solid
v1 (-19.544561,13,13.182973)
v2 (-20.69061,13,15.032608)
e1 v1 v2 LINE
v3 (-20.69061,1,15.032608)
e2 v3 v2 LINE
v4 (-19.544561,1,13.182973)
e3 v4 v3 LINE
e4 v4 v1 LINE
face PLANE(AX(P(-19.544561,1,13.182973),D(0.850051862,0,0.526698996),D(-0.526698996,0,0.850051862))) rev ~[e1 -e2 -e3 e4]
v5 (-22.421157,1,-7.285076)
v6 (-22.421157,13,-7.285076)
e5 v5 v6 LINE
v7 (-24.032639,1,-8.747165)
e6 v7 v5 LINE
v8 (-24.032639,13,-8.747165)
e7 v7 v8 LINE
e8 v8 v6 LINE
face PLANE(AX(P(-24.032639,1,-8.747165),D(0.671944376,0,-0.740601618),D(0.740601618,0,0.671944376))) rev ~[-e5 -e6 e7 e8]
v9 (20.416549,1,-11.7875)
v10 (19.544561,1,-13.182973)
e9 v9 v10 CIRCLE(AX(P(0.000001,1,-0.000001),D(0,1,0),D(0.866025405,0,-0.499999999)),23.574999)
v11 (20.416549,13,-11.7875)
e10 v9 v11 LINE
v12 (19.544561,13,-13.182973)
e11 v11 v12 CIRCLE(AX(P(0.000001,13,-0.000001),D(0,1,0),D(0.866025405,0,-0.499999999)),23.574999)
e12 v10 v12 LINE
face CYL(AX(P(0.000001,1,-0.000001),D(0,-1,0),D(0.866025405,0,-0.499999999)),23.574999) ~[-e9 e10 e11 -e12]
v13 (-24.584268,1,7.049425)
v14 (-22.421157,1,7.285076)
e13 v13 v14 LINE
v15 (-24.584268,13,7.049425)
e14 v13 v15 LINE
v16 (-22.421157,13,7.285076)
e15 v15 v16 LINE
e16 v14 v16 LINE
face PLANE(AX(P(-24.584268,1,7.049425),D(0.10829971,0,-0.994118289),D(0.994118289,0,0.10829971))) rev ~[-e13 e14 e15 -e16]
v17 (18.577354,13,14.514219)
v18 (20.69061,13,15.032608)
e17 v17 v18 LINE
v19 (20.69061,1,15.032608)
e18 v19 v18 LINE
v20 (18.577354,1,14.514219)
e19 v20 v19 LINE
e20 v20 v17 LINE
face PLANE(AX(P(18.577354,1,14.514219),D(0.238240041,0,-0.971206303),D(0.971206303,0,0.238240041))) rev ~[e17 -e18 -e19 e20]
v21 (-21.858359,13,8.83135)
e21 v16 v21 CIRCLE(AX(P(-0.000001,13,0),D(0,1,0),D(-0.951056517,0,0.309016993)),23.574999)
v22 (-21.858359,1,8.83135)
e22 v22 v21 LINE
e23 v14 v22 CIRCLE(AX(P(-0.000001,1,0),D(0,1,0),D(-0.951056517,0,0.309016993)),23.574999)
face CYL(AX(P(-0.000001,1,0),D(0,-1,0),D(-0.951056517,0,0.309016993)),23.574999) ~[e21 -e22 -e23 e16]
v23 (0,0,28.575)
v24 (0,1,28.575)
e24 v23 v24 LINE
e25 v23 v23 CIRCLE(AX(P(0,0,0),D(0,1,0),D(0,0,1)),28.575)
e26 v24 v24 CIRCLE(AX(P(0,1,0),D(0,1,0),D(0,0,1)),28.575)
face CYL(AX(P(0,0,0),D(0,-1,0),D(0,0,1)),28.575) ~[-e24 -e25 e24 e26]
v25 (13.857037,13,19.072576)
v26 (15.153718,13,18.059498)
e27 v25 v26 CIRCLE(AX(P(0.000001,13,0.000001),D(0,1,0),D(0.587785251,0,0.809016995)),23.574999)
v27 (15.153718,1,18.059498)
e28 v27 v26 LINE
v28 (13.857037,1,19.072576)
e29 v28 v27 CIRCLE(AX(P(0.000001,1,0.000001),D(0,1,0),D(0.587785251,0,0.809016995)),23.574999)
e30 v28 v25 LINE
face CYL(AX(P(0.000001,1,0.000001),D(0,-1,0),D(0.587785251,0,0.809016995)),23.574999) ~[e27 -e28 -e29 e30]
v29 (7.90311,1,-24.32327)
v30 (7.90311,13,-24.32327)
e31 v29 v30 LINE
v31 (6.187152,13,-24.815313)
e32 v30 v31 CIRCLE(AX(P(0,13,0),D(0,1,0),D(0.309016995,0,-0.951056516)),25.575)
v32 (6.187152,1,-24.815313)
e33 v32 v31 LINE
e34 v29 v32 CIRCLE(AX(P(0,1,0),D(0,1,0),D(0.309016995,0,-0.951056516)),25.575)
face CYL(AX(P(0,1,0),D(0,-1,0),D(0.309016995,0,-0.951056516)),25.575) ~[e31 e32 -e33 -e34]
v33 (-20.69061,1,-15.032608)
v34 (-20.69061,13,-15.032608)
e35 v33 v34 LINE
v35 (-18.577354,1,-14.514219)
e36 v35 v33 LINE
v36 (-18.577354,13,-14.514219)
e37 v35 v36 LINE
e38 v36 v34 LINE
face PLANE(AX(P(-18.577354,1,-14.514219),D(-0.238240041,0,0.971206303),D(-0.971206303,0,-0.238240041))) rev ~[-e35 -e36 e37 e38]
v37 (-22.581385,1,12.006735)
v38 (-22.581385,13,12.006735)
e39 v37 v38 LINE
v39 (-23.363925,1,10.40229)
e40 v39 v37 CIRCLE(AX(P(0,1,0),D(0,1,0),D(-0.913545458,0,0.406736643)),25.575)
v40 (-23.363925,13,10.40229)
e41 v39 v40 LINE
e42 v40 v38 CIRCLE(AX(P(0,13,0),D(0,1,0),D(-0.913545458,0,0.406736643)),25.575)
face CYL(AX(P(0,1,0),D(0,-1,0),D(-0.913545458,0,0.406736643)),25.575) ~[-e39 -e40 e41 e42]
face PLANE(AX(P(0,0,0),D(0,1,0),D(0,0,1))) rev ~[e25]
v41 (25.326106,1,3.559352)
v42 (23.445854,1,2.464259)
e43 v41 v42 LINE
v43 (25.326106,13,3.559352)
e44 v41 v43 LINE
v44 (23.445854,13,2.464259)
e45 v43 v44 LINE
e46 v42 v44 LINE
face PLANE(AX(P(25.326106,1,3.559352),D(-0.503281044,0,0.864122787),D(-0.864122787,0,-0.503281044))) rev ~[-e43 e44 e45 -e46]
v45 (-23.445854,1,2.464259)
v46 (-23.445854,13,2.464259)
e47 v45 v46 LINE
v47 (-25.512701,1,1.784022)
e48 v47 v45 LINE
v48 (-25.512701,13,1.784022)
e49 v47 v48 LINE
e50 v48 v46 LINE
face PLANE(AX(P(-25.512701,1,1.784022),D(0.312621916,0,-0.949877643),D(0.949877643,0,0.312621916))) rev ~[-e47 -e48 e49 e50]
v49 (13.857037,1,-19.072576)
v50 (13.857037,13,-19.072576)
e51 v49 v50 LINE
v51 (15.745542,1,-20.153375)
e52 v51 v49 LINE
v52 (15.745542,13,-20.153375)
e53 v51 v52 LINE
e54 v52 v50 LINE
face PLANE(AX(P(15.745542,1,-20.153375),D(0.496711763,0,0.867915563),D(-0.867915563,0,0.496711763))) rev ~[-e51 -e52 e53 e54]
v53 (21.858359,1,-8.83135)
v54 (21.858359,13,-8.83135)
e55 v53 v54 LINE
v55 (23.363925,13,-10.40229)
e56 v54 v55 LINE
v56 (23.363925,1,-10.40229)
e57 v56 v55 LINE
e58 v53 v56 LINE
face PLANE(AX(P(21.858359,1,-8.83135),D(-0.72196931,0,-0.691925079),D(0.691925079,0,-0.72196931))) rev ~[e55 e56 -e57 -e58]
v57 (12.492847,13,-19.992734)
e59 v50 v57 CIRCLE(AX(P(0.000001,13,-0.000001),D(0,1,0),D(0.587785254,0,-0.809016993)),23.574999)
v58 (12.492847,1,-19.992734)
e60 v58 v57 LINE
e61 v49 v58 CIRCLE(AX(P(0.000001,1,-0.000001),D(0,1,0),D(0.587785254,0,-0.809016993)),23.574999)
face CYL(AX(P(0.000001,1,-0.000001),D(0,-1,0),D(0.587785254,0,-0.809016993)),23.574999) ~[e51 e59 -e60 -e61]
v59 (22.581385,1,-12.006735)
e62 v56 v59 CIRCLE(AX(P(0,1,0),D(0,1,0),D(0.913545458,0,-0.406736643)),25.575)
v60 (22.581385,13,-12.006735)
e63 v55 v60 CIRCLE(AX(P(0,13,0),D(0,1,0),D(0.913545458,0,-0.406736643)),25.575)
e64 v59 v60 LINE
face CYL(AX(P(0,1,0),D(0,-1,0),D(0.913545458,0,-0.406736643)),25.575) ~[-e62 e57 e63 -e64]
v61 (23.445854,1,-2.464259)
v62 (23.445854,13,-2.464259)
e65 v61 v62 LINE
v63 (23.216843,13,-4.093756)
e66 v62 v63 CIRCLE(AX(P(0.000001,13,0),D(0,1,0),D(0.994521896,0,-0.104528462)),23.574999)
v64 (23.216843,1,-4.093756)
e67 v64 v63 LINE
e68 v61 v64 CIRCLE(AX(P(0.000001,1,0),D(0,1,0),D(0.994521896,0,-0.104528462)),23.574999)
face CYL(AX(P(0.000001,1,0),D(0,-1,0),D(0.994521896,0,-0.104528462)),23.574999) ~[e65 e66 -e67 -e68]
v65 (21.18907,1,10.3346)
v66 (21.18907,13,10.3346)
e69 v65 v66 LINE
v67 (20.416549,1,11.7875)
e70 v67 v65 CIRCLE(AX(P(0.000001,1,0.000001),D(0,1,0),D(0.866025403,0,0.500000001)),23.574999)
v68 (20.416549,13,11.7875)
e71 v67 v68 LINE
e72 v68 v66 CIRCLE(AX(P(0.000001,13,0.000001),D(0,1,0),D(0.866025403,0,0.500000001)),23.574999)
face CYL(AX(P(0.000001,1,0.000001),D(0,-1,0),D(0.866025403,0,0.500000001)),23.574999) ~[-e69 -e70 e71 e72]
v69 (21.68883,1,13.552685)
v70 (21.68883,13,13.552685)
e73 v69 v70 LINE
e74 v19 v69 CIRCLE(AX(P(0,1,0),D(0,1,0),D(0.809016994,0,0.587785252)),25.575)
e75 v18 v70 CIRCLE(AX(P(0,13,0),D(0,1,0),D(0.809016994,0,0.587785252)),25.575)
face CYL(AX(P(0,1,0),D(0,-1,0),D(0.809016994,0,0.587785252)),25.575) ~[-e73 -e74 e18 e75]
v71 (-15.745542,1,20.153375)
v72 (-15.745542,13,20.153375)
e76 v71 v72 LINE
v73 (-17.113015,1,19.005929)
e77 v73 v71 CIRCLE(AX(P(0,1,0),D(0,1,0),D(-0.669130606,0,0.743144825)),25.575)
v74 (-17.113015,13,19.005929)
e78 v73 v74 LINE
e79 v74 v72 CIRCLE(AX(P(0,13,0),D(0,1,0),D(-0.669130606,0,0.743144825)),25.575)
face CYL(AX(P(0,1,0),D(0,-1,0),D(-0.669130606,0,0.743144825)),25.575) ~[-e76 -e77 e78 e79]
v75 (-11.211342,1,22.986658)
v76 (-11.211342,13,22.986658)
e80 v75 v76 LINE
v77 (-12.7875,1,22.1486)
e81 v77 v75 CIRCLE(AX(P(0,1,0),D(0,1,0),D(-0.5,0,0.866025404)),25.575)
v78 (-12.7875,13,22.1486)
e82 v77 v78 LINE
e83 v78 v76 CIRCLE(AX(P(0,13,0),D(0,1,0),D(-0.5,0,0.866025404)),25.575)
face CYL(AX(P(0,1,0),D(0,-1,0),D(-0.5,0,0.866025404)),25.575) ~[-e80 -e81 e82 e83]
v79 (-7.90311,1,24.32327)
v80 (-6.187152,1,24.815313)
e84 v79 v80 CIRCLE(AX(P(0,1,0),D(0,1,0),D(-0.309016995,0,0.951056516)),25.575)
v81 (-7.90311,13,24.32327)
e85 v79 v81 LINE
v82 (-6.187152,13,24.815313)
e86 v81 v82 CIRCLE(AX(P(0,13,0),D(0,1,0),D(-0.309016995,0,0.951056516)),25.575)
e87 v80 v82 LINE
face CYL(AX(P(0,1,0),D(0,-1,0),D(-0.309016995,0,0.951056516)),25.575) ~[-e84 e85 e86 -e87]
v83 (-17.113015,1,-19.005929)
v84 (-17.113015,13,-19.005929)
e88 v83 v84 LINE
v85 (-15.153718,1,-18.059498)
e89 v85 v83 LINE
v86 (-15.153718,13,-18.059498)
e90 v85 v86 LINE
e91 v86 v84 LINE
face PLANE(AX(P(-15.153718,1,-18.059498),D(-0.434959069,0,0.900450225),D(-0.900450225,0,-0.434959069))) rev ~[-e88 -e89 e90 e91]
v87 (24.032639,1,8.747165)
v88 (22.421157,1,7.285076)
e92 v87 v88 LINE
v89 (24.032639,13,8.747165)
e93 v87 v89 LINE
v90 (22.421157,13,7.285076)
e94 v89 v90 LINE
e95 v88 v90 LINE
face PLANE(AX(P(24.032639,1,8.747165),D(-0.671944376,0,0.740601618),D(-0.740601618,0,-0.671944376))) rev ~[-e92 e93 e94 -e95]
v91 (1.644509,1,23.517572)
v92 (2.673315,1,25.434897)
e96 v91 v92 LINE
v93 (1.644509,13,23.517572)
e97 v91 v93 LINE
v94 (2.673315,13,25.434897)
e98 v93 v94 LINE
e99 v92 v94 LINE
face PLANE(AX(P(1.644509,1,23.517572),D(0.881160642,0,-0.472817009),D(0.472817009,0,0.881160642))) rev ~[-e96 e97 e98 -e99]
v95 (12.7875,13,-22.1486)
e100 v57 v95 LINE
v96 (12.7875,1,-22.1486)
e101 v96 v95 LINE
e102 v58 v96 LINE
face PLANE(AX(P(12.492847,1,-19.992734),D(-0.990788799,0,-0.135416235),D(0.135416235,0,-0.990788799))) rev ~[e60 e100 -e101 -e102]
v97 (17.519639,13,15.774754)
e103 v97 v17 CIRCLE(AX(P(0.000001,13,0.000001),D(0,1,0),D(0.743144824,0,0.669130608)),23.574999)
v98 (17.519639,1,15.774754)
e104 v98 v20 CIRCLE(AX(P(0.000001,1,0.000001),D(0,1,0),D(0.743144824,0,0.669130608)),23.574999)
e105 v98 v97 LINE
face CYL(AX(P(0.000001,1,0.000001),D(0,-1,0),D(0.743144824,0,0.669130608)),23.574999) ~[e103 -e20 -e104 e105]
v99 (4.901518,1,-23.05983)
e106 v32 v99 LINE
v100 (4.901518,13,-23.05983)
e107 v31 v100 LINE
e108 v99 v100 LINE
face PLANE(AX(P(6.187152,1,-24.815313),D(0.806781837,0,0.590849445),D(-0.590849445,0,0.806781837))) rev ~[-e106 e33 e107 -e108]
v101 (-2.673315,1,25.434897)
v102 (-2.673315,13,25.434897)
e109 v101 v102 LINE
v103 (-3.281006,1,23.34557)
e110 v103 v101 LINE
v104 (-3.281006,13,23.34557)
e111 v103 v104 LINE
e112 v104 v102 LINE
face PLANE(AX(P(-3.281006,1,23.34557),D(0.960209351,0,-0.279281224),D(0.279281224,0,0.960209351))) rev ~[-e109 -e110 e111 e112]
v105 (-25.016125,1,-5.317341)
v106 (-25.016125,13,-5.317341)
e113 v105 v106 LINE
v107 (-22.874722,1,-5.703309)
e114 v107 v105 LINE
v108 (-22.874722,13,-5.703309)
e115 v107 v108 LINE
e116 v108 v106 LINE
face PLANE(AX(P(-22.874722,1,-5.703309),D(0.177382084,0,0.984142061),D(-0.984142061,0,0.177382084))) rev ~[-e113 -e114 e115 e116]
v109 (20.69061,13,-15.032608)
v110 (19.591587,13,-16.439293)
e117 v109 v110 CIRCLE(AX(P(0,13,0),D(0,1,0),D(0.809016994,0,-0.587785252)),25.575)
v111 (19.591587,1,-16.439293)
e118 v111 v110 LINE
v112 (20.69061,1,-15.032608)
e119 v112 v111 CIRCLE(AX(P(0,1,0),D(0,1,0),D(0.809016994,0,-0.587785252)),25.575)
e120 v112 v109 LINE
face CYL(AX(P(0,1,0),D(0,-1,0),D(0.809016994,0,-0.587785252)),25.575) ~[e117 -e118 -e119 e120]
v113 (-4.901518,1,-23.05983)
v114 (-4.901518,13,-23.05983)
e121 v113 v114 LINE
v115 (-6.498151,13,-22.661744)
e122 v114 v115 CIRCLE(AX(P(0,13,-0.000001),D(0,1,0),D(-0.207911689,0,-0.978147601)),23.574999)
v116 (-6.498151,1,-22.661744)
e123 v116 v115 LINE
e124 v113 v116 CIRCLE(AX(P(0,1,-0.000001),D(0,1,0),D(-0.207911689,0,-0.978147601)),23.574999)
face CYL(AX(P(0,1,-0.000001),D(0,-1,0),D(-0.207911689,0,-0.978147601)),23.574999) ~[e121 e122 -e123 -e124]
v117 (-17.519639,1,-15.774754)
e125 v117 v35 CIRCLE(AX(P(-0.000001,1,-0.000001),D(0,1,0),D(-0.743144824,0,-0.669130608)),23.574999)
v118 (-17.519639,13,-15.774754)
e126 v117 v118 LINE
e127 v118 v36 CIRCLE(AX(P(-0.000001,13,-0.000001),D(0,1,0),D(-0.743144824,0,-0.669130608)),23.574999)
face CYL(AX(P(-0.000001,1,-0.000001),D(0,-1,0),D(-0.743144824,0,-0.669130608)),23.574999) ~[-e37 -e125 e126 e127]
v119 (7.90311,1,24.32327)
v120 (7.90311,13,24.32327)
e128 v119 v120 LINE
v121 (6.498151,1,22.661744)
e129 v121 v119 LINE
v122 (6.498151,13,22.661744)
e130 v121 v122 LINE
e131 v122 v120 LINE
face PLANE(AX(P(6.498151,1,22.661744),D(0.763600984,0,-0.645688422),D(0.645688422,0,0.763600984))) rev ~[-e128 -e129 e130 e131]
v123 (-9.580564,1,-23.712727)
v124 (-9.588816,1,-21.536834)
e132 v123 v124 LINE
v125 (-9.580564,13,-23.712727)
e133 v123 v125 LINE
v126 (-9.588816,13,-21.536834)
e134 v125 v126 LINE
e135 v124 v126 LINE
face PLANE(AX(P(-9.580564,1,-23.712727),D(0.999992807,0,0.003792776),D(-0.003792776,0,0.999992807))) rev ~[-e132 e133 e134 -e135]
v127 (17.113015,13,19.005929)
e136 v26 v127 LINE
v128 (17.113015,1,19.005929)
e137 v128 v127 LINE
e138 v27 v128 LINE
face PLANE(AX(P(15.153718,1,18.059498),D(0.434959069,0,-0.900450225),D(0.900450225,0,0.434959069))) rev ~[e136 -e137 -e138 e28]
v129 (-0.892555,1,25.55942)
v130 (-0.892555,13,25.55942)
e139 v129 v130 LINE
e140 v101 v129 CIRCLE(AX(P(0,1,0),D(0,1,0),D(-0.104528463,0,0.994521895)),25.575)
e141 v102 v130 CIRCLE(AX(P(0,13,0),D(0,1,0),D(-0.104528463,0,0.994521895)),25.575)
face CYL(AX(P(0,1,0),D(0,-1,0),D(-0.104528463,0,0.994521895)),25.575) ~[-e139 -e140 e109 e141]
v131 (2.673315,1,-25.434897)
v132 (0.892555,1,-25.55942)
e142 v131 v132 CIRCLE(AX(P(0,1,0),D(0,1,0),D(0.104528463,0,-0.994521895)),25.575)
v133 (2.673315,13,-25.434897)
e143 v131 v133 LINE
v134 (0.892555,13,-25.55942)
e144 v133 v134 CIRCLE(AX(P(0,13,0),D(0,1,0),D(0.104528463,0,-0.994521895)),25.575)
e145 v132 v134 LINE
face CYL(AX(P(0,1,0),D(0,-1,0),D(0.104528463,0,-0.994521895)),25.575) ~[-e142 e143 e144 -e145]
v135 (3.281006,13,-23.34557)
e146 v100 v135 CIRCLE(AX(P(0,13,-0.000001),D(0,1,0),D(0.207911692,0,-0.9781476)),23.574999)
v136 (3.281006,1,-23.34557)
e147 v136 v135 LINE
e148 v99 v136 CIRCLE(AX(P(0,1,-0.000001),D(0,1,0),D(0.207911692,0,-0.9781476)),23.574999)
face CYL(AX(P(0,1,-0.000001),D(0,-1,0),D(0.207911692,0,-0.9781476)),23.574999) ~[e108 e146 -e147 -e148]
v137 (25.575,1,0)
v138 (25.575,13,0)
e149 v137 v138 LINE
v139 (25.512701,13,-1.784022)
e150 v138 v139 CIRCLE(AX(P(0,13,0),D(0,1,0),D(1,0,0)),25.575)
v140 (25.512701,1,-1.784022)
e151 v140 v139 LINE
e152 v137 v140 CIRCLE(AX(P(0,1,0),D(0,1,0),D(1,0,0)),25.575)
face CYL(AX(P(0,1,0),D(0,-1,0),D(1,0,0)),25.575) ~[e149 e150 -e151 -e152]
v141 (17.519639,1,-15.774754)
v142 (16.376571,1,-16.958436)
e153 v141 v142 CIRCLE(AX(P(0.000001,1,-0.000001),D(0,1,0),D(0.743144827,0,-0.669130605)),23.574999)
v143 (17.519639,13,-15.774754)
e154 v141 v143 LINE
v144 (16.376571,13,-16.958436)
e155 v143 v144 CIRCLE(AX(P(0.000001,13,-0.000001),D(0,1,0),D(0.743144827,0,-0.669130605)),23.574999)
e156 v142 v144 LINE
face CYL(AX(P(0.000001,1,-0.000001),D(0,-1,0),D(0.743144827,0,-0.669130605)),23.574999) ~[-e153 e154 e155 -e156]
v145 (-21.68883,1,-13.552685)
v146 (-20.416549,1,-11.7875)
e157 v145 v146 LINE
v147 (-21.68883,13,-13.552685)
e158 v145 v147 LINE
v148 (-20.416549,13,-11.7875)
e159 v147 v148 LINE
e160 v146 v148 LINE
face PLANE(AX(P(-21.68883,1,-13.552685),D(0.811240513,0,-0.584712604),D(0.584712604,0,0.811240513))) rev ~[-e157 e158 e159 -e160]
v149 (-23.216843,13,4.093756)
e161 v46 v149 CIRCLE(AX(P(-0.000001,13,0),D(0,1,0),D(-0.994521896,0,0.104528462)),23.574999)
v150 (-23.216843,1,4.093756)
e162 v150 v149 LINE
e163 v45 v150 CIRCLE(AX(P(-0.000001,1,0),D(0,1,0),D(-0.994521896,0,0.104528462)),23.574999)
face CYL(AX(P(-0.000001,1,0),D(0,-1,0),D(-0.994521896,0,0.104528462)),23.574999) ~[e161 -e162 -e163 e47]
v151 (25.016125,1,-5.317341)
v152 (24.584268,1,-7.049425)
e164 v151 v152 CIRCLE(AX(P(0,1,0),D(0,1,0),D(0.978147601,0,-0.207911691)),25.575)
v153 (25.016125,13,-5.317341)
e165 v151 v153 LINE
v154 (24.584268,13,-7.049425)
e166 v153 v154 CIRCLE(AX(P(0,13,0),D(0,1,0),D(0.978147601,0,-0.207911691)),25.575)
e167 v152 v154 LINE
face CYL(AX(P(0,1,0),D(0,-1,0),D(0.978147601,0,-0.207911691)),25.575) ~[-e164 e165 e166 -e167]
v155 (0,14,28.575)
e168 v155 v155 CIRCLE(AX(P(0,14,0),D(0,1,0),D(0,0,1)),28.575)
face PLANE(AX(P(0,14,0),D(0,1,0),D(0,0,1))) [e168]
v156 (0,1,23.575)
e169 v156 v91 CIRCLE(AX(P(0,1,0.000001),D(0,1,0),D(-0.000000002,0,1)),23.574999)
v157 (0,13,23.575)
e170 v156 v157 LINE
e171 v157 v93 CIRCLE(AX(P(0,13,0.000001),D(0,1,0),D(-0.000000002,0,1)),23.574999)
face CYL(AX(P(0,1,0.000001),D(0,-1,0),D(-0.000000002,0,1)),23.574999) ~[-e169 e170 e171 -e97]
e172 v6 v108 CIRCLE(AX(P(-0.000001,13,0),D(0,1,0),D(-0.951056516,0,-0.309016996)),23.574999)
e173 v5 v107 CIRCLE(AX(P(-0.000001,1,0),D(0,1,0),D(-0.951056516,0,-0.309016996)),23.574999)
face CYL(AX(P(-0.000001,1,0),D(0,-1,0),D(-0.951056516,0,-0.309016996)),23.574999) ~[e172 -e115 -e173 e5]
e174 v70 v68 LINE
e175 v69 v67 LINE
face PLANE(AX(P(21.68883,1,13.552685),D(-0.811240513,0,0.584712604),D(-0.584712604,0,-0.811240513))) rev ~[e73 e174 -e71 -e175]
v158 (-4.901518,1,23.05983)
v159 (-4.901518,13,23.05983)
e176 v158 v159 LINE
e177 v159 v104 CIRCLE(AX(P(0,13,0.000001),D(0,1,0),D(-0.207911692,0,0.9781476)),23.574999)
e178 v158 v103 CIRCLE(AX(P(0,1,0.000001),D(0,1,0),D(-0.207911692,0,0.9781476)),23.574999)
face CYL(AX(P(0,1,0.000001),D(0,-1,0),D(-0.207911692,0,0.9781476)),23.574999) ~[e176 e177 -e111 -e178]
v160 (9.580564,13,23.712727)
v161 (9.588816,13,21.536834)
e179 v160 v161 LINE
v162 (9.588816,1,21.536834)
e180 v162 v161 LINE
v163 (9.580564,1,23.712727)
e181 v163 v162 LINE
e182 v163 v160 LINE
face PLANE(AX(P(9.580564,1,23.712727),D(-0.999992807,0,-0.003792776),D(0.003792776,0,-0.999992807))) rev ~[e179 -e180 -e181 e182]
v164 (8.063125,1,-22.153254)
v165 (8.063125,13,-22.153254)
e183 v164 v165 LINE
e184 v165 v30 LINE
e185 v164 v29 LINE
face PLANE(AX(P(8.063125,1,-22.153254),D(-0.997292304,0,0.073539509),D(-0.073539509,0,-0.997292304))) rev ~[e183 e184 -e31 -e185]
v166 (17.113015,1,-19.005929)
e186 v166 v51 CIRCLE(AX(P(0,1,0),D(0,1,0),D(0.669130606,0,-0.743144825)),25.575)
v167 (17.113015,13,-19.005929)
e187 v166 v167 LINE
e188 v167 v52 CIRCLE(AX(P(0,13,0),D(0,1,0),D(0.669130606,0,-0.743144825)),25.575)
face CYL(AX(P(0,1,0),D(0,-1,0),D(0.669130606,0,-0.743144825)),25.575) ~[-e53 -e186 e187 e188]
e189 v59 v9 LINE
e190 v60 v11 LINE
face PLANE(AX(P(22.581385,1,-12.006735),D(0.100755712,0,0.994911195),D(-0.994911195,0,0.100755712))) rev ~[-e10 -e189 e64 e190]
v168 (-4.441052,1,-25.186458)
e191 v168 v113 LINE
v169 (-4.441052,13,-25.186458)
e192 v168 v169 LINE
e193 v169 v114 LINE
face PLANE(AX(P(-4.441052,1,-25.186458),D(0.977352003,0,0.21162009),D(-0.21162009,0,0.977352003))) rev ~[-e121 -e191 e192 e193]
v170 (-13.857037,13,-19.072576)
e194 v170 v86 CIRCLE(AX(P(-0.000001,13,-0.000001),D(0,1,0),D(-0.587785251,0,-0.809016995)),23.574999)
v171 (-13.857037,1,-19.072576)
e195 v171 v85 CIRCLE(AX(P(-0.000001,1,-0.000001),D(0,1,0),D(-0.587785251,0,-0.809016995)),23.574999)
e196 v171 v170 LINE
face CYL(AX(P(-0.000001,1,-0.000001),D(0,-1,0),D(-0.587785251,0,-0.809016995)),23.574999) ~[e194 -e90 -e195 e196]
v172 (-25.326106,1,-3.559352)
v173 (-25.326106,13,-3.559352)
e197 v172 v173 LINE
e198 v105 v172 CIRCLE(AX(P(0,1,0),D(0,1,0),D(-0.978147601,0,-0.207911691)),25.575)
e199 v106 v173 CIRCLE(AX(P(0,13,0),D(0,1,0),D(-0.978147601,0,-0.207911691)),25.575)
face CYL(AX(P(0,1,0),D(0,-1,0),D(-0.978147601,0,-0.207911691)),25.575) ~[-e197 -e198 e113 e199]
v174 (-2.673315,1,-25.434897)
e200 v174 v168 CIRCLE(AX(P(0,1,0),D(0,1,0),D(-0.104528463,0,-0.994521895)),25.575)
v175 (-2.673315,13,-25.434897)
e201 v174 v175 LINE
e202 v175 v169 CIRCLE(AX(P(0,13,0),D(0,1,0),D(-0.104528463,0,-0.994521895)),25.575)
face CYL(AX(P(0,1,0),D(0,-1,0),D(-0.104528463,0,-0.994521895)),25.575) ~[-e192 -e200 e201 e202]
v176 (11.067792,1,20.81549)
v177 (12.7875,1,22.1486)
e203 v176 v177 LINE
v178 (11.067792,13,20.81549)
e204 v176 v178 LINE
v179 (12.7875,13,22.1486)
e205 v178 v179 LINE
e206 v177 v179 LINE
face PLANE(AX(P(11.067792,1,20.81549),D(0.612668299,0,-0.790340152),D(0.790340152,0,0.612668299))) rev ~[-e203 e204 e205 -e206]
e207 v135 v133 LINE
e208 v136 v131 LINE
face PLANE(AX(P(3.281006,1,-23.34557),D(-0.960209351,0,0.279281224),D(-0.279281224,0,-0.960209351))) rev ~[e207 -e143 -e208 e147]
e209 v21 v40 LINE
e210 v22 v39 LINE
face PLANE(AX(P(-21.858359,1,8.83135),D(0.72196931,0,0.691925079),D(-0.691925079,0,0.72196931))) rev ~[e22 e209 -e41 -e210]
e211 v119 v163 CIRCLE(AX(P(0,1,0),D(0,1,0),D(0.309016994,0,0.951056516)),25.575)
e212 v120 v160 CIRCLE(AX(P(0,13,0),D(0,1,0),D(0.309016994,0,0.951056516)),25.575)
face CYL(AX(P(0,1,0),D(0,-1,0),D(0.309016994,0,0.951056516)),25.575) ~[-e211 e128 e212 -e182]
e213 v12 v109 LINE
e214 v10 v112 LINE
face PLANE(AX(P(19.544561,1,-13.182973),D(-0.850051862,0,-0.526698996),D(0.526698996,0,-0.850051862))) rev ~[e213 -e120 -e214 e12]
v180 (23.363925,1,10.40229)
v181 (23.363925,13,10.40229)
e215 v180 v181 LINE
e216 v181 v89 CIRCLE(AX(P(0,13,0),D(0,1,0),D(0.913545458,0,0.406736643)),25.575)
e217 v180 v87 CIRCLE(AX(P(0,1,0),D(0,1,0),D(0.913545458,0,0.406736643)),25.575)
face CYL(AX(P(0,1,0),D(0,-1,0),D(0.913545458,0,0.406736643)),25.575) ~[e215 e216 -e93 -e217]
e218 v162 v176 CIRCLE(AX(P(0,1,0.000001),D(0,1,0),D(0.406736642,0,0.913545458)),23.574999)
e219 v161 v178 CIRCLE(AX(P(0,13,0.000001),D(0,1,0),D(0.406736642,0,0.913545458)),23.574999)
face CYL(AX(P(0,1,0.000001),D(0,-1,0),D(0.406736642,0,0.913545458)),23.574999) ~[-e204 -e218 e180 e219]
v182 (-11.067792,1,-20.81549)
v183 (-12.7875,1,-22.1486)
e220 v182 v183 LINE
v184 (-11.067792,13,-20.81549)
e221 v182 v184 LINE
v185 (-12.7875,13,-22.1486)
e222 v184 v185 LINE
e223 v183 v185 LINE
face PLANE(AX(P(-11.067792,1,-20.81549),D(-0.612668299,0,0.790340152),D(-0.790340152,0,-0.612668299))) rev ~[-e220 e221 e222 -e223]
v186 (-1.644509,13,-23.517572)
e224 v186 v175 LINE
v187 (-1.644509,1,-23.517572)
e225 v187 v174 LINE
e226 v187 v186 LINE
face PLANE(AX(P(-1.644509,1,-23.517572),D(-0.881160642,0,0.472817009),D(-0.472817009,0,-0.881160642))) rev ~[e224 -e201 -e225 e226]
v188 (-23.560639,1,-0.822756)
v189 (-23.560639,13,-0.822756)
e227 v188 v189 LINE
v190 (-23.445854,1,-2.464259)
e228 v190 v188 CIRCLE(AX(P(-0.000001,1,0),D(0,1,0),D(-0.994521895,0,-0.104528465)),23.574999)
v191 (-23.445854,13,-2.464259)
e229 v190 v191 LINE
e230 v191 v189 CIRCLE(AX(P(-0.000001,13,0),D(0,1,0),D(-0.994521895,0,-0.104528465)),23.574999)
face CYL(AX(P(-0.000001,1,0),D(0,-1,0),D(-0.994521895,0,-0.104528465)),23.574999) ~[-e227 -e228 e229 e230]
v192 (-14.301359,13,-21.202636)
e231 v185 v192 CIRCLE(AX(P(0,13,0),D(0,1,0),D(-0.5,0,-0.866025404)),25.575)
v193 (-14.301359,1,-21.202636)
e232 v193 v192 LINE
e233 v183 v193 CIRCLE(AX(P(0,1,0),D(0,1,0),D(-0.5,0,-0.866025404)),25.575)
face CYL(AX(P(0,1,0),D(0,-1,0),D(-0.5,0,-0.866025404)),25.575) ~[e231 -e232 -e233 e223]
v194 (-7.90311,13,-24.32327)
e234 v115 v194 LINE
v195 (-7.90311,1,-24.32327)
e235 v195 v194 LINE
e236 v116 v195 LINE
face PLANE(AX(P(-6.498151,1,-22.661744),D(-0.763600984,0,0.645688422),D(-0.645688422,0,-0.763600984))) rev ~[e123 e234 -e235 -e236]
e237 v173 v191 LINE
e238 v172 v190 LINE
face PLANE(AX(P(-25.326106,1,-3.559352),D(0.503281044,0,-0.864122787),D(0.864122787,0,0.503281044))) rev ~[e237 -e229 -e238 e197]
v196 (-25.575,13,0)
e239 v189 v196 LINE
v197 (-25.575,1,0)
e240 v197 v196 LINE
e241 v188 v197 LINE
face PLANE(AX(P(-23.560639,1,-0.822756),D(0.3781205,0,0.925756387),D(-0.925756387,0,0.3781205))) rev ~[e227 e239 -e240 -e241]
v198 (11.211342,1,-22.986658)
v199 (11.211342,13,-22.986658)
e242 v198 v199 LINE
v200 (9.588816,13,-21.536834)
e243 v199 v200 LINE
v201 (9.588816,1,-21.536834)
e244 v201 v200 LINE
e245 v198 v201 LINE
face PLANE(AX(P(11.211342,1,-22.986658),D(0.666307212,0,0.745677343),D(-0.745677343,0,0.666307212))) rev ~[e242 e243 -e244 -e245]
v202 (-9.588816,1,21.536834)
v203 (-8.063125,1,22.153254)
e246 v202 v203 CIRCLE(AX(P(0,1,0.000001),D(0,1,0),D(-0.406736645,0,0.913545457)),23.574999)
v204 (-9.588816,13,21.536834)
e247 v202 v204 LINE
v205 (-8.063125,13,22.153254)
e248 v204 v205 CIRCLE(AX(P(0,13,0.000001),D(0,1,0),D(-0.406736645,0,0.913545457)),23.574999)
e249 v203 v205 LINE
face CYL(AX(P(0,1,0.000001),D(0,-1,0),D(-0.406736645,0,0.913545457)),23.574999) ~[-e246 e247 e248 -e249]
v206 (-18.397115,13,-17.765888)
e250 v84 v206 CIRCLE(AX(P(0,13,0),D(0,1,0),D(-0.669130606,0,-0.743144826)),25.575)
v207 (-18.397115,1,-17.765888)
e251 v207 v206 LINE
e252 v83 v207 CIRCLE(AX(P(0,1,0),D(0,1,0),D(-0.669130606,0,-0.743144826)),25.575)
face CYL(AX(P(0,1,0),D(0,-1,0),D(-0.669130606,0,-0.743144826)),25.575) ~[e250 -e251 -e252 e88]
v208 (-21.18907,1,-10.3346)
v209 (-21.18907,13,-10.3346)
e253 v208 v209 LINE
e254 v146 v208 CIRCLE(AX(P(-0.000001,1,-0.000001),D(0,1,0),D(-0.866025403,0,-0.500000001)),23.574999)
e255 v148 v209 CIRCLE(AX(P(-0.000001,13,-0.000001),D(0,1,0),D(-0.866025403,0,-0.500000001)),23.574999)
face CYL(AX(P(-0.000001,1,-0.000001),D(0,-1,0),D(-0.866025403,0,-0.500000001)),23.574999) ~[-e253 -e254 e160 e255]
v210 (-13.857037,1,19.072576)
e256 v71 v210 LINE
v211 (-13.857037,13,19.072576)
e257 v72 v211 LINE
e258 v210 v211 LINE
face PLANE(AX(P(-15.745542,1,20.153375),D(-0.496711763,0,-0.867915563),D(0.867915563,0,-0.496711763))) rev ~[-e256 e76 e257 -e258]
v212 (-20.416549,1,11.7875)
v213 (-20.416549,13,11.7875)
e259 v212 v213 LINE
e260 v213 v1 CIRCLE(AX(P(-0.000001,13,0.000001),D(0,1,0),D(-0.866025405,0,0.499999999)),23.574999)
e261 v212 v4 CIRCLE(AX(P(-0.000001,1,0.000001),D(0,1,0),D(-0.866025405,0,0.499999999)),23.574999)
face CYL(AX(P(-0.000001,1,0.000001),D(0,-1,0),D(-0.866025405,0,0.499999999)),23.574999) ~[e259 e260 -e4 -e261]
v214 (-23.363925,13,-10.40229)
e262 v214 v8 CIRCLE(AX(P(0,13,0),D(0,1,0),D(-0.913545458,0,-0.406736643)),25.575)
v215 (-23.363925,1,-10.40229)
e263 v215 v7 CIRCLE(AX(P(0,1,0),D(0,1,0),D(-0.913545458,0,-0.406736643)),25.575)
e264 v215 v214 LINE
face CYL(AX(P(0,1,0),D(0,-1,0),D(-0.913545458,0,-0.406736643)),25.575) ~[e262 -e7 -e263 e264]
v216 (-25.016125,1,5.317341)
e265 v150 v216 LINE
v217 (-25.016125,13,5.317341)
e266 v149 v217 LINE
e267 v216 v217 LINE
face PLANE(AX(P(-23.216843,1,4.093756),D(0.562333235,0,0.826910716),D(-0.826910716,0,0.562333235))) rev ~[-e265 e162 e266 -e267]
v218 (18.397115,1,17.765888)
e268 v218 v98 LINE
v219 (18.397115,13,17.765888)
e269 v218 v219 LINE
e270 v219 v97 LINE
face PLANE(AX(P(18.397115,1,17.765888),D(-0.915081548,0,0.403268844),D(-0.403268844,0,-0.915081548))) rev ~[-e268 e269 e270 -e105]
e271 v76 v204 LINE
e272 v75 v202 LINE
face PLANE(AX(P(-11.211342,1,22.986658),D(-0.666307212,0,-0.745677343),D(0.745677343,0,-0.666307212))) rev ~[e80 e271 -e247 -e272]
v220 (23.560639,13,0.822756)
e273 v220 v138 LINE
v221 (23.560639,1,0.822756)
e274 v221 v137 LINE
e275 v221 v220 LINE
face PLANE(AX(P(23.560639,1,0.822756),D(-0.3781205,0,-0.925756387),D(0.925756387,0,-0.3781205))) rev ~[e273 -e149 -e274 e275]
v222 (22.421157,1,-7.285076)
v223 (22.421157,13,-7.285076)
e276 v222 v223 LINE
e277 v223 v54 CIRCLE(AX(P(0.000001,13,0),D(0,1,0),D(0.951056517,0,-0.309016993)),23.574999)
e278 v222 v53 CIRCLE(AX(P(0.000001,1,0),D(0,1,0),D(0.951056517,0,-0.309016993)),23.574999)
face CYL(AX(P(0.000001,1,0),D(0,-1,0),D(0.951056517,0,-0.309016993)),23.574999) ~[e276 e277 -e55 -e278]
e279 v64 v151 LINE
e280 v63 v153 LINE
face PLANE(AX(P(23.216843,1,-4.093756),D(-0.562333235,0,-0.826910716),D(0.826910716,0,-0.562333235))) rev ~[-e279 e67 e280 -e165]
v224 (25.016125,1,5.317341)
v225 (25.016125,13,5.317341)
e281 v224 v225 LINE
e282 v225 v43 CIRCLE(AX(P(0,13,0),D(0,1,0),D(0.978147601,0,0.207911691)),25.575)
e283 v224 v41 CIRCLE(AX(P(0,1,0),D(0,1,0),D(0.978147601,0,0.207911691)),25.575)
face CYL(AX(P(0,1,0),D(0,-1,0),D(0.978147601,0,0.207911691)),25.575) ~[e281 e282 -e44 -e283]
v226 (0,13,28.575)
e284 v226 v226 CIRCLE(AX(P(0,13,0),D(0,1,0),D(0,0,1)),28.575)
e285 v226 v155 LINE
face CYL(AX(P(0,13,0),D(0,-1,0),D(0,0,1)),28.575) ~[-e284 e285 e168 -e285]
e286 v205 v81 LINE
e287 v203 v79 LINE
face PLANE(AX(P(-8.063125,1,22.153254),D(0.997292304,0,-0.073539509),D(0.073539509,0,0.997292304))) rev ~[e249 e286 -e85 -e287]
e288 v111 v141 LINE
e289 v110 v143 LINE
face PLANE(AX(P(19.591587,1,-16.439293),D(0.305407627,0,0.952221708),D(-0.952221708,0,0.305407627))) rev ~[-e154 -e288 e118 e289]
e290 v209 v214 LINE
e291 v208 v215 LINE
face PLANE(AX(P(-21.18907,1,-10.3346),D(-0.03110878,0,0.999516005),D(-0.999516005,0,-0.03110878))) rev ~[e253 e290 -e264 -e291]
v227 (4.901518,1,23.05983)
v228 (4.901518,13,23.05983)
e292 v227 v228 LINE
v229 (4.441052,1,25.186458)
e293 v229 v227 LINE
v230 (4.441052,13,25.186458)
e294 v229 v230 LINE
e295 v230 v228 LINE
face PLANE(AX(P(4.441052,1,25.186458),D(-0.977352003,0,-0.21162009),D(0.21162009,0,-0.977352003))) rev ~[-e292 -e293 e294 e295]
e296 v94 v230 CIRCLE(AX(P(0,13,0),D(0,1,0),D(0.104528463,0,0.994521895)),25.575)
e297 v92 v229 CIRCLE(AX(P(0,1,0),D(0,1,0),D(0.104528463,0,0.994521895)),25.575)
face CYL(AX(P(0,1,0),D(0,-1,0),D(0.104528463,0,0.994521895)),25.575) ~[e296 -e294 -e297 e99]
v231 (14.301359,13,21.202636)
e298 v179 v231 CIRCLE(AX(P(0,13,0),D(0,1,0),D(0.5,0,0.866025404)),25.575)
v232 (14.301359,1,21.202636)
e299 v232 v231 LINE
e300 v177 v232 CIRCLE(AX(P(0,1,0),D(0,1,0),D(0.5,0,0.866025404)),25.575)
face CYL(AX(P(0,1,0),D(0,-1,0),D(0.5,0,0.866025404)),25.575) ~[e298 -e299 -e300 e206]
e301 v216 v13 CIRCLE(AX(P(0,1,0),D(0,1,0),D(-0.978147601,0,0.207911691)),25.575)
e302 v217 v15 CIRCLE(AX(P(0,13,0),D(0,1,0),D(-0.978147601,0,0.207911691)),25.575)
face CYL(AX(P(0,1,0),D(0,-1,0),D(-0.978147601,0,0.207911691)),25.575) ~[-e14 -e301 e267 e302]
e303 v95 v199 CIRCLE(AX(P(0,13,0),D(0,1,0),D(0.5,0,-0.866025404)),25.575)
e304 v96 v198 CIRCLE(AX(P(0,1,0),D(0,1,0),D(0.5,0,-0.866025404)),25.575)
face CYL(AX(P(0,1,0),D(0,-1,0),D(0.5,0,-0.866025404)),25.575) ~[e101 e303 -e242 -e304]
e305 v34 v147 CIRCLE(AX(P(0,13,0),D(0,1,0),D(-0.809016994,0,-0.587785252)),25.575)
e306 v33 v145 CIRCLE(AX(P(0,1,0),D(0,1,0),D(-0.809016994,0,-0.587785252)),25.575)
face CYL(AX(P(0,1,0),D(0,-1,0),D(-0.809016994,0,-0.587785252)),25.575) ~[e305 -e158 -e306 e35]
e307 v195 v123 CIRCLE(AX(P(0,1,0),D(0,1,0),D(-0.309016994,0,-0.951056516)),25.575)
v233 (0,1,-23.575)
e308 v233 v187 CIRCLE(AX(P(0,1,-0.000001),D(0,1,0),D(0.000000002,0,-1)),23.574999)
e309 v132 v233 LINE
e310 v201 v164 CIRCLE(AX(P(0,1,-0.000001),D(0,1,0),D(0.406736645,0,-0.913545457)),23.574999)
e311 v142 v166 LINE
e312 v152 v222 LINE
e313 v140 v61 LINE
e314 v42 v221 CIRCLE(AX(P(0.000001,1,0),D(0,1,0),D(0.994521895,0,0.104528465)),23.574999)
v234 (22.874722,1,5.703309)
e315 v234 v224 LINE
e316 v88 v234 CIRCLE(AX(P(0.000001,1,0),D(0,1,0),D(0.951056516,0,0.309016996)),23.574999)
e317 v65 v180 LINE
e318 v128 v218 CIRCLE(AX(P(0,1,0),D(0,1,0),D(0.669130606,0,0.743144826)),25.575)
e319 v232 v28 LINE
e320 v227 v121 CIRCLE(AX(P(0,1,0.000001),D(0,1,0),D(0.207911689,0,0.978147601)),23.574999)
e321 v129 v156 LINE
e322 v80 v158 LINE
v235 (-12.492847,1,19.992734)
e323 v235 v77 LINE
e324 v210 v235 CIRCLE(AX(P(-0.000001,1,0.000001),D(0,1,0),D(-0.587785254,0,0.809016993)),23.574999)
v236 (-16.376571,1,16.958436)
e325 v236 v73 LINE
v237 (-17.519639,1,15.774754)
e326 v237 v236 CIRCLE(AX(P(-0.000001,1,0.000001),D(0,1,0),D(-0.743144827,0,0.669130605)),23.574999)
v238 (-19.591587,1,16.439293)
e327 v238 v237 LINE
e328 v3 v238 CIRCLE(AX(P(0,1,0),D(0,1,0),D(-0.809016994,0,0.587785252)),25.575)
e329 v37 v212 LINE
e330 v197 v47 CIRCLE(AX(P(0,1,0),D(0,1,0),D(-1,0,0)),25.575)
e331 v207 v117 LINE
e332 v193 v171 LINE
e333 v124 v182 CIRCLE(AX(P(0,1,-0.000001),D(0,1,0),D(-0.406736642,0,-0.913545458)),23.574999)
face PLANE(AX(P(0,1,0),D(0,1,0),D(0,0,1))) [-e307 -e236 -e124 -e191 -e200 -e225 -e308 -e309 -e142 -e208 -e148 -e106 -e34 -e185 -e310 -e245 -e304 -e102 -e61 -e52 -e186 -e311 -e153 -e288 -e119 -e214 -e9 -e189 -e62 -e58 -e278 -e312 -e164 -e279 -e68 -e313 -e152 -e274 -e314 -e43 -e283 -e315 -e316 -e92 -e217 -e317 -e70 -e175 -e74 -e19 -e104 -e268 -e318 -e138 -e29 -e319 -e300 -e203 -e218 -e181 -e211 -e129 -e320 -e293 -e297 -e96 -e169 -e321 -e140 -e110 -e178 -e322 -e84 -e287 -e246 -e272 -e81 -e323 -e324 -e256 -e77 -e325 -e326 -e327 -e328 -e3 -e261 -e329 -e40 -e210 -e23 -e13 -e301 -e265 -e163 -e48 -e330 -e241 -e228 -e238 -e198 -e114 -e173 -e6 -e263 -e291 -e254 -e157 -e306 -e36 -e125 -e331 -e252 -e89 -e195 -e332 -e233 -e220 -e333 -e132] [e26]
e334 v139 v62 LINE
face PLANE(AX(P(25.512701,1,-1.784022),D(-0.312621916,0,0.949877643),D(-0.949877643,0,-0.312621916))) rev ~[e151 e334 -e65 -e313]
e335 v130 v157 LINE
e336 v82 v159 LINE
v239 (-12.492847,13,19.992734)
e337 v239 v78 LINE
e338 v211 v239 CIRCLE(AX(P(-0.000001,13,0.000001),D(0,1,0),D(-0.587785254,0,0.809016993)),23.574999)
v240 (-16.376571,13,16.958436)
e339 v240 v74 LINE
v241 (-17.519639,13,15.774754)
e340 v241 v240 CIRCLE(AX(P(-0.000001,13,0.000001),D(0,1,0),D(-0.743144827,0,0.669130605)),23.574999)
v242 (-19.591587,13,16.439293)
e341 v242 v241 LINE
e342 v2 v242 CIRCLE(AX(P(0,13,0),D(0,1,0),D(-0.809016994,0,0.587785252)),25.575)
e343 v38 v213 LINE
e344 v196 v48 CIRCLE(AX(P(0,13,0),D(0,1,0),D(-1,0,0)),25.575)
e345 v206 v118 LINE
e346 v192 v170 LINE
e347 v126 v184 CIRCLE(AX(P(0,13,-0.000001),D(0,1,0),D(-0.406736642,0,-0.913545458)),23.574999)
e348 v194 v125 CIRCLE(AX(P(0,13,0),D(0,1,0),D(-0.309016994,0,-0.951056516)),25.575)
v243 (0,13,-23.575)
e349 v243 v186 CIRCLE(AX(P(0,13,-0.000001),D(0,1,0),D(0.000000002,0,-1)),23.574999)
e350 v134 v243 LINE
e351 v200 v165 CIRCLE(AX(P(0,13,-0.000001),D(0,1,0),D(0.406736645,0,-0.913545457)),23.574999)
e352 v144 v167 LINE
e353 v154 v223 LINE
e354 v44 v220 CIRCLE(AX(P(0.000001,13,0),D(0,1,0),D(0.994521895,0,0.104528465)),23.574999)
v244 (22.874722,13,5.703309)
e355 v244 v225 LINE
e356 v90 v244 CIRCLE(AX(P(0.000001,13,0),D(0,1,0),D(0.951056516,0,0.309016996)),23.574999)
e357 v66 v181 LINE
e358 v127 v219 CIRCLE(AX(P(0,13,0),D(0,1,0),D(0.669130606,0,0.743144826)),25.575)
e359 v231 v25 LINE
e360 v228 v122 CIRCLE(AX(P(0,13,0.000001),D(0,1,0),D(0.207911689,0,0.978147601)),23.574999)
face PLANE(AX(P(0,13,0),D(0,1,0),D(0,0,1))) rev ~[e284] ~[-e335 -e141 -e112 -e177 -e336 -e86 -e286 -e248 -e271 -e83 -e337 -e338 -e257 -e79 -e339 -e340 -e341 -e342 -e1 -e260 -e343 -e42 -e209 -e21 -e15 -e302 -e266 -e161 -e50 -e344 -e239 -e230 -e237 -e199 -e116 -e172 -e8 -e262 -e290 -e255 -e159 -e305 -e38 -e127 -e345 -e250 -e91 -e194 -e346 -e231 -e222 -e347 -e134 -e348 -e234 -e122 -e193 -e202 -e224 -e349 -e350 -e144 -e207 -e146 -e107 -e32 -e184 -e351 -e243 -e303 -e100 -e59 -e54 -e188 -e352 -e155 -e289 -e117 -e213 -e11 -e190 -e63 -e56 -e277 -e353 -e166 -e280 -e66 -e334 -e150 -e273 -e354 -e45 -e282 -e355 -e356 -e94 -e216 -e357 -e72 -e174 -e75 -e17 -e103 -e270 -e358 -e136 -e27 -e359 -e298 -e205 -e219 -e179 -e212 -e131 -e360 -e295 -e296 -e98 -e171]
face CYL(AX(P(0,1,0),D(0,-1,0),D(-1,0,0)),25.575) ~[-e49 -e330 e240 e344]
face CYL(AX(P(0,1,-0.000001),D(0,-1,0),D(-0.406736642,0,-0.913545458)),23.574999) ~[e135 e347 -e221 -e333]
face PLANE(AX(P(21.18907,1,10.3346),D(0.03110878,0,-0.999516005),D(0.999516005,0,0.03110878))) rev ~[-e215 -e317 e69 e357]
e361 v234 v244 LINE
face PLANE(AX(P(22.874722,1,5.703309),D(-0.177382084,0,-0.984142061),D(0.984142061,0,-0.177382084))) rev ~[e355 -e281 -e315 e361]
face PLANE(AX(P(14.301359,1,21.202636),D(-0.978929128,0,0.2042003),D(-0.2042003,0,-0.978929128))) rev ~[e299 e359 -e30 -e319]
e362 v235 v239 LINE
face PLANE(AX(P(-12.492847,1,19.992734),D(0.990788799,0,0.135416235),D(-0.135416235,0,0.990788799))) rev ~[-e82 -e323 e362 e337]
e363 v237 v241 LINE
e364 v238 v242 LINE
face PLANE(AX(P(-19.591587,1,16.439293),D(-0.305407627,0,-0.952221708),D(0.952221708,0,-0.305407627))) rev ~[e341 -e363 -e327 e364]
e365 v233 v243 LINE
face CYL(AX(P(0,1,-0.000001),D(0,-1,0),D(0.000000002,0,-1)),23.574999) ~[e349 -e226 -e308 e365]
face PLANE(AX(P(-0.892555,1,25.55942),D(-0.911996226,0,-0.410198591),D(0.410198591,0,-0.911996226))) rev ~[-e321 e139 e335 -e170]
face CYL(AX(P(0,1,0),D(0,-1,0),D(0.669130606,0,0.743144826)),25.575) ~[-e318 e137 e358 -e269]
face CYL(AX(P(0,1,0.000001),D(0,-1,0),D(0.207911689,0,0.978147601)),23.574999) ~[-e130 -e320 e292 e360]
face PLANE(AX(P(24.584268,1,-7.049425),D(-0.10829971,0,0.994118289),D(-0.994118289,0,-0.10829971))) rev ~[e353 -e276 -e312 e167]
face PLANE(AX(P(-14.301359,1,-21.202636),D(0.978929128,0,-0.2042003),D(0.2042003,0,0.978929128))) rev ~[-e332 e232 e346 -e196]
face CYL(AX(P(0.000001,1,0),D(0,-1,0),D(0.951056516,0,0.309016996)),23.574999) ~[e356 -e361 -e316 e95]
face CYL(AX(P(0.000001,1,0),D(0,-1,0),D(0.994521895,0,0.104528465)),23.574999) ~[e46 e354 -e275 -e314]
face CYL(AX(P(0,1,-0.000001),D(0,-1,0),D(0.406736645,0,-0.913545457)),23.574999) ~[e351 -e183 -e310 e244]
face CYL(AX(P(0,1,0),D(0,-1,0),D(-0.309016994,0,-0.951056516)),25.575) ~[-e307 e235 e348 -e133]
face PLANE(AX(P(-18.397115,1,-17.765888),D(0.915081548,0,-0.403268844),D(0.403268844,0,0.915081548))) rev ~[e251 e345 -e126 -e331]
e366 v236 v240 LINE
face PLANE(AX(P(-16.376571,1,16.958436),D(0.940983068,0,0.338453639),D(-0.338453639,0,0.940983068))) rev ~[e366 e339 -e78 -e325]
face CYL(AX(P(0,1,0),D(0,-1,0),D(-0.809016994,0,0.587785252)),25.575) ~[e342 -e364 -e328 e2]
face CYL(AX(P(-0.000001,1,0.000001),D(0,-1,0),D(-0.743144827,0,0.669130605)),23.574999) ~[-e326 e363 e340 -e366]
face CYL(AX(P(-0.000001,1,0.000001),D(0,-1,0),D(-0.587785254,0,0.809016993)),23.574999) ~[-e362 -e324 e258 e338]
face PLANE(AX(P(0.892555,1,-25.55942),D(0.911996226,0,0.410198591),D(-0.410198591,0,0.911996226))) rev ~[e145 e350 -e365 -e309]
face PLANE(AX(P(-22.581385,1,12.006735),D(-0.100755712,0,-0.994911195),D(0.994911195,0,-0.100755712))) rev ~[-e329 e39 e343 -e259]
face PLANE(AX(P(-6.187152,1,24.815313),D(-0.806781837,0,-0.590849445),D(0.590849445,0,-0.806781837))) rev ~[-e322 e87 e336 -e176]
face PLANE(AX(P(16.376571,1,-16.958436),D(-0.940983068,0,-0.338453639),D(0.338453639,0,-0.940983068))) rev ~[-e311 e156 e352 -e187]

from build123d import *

# Parameters (mm, degrees)
SKETCH1_R           = 28.575
BOSS_EXTRUDE1_DEPTH = 1
BOSS_EXTRUDE3_DEPTH = 12
CIRPATTERN2_COUNT   = 30
SKETCH3_R           = 28.575
BOSS_EXTRUDE4_DEPTH = 1


with BuildPart() as part:
    # Sketch1 → Boss-Extrude1 (new body)
    with BuildSketch(Plane(origin=(0, 0, 0), x_dir=(1, 0, 0), z_dir=(0, 1, 0))):
        with Locations(Location((0, 0, 0), (0, 0, 270))):
            Circle(SKETCH1_R)
    extrude(amount=BOSS_EXTRUDE1_DEPTH)

    # Sketch2 → Boss-Extrude3 (add)
    with BuildSketch(Plane(origin=(0, 1, 0), x_dir=(1, 0, 0), z_dir=(0, 1, 0))):
        with BuildLine():
            Line((0, 0), (25.575, 0))
            ThreePointArc((25.575, 0), (25.559420401, 0.892554628), (25.512700585, 1.784021816))
            Line((25.512700585, 1.784021816), (23.445853683, 2.464258522))
            ThreePointArc((23.445853683, 2.464258522), (23.345569721, 3.281005855), (23.216842777, 4.093755788))
            Line((23.216842777, 4.093755788), (25.016124889, 5.317341493))
            Line((25.016124889, 5.317341493), (0, 0))
        make_face()
    boss_extrude3 = extrude(amount=BOSS_EXTRUDE3_DEPTH)

    # CirPattern2: Boss-Extrude3 ×30 about axis
    cirpattern2_axis = Axis((0, 0, 0), (0, 1, 0))
    for i in range(1, CIRPATTERN2_COUNT):
        add(boss_extrude3.rotate(cirpattern2_axis, i * 360 / CIRPATTERN2_COUNT))

    # Sketch3 → Boss-Extrude4 (add)
    with BuildSketch(Plane(origin=(0, 13, 0), x_dir=(1, 0, 0), z_dir=(0, 1, 0))):
        with Locations(Location((0, 0, 0), (0, 0, 270))):
            Circle(SKETCH3_R)
    extrude(amount=BOSS_EXTRUDE4_DEPTH)


solid = part.part
